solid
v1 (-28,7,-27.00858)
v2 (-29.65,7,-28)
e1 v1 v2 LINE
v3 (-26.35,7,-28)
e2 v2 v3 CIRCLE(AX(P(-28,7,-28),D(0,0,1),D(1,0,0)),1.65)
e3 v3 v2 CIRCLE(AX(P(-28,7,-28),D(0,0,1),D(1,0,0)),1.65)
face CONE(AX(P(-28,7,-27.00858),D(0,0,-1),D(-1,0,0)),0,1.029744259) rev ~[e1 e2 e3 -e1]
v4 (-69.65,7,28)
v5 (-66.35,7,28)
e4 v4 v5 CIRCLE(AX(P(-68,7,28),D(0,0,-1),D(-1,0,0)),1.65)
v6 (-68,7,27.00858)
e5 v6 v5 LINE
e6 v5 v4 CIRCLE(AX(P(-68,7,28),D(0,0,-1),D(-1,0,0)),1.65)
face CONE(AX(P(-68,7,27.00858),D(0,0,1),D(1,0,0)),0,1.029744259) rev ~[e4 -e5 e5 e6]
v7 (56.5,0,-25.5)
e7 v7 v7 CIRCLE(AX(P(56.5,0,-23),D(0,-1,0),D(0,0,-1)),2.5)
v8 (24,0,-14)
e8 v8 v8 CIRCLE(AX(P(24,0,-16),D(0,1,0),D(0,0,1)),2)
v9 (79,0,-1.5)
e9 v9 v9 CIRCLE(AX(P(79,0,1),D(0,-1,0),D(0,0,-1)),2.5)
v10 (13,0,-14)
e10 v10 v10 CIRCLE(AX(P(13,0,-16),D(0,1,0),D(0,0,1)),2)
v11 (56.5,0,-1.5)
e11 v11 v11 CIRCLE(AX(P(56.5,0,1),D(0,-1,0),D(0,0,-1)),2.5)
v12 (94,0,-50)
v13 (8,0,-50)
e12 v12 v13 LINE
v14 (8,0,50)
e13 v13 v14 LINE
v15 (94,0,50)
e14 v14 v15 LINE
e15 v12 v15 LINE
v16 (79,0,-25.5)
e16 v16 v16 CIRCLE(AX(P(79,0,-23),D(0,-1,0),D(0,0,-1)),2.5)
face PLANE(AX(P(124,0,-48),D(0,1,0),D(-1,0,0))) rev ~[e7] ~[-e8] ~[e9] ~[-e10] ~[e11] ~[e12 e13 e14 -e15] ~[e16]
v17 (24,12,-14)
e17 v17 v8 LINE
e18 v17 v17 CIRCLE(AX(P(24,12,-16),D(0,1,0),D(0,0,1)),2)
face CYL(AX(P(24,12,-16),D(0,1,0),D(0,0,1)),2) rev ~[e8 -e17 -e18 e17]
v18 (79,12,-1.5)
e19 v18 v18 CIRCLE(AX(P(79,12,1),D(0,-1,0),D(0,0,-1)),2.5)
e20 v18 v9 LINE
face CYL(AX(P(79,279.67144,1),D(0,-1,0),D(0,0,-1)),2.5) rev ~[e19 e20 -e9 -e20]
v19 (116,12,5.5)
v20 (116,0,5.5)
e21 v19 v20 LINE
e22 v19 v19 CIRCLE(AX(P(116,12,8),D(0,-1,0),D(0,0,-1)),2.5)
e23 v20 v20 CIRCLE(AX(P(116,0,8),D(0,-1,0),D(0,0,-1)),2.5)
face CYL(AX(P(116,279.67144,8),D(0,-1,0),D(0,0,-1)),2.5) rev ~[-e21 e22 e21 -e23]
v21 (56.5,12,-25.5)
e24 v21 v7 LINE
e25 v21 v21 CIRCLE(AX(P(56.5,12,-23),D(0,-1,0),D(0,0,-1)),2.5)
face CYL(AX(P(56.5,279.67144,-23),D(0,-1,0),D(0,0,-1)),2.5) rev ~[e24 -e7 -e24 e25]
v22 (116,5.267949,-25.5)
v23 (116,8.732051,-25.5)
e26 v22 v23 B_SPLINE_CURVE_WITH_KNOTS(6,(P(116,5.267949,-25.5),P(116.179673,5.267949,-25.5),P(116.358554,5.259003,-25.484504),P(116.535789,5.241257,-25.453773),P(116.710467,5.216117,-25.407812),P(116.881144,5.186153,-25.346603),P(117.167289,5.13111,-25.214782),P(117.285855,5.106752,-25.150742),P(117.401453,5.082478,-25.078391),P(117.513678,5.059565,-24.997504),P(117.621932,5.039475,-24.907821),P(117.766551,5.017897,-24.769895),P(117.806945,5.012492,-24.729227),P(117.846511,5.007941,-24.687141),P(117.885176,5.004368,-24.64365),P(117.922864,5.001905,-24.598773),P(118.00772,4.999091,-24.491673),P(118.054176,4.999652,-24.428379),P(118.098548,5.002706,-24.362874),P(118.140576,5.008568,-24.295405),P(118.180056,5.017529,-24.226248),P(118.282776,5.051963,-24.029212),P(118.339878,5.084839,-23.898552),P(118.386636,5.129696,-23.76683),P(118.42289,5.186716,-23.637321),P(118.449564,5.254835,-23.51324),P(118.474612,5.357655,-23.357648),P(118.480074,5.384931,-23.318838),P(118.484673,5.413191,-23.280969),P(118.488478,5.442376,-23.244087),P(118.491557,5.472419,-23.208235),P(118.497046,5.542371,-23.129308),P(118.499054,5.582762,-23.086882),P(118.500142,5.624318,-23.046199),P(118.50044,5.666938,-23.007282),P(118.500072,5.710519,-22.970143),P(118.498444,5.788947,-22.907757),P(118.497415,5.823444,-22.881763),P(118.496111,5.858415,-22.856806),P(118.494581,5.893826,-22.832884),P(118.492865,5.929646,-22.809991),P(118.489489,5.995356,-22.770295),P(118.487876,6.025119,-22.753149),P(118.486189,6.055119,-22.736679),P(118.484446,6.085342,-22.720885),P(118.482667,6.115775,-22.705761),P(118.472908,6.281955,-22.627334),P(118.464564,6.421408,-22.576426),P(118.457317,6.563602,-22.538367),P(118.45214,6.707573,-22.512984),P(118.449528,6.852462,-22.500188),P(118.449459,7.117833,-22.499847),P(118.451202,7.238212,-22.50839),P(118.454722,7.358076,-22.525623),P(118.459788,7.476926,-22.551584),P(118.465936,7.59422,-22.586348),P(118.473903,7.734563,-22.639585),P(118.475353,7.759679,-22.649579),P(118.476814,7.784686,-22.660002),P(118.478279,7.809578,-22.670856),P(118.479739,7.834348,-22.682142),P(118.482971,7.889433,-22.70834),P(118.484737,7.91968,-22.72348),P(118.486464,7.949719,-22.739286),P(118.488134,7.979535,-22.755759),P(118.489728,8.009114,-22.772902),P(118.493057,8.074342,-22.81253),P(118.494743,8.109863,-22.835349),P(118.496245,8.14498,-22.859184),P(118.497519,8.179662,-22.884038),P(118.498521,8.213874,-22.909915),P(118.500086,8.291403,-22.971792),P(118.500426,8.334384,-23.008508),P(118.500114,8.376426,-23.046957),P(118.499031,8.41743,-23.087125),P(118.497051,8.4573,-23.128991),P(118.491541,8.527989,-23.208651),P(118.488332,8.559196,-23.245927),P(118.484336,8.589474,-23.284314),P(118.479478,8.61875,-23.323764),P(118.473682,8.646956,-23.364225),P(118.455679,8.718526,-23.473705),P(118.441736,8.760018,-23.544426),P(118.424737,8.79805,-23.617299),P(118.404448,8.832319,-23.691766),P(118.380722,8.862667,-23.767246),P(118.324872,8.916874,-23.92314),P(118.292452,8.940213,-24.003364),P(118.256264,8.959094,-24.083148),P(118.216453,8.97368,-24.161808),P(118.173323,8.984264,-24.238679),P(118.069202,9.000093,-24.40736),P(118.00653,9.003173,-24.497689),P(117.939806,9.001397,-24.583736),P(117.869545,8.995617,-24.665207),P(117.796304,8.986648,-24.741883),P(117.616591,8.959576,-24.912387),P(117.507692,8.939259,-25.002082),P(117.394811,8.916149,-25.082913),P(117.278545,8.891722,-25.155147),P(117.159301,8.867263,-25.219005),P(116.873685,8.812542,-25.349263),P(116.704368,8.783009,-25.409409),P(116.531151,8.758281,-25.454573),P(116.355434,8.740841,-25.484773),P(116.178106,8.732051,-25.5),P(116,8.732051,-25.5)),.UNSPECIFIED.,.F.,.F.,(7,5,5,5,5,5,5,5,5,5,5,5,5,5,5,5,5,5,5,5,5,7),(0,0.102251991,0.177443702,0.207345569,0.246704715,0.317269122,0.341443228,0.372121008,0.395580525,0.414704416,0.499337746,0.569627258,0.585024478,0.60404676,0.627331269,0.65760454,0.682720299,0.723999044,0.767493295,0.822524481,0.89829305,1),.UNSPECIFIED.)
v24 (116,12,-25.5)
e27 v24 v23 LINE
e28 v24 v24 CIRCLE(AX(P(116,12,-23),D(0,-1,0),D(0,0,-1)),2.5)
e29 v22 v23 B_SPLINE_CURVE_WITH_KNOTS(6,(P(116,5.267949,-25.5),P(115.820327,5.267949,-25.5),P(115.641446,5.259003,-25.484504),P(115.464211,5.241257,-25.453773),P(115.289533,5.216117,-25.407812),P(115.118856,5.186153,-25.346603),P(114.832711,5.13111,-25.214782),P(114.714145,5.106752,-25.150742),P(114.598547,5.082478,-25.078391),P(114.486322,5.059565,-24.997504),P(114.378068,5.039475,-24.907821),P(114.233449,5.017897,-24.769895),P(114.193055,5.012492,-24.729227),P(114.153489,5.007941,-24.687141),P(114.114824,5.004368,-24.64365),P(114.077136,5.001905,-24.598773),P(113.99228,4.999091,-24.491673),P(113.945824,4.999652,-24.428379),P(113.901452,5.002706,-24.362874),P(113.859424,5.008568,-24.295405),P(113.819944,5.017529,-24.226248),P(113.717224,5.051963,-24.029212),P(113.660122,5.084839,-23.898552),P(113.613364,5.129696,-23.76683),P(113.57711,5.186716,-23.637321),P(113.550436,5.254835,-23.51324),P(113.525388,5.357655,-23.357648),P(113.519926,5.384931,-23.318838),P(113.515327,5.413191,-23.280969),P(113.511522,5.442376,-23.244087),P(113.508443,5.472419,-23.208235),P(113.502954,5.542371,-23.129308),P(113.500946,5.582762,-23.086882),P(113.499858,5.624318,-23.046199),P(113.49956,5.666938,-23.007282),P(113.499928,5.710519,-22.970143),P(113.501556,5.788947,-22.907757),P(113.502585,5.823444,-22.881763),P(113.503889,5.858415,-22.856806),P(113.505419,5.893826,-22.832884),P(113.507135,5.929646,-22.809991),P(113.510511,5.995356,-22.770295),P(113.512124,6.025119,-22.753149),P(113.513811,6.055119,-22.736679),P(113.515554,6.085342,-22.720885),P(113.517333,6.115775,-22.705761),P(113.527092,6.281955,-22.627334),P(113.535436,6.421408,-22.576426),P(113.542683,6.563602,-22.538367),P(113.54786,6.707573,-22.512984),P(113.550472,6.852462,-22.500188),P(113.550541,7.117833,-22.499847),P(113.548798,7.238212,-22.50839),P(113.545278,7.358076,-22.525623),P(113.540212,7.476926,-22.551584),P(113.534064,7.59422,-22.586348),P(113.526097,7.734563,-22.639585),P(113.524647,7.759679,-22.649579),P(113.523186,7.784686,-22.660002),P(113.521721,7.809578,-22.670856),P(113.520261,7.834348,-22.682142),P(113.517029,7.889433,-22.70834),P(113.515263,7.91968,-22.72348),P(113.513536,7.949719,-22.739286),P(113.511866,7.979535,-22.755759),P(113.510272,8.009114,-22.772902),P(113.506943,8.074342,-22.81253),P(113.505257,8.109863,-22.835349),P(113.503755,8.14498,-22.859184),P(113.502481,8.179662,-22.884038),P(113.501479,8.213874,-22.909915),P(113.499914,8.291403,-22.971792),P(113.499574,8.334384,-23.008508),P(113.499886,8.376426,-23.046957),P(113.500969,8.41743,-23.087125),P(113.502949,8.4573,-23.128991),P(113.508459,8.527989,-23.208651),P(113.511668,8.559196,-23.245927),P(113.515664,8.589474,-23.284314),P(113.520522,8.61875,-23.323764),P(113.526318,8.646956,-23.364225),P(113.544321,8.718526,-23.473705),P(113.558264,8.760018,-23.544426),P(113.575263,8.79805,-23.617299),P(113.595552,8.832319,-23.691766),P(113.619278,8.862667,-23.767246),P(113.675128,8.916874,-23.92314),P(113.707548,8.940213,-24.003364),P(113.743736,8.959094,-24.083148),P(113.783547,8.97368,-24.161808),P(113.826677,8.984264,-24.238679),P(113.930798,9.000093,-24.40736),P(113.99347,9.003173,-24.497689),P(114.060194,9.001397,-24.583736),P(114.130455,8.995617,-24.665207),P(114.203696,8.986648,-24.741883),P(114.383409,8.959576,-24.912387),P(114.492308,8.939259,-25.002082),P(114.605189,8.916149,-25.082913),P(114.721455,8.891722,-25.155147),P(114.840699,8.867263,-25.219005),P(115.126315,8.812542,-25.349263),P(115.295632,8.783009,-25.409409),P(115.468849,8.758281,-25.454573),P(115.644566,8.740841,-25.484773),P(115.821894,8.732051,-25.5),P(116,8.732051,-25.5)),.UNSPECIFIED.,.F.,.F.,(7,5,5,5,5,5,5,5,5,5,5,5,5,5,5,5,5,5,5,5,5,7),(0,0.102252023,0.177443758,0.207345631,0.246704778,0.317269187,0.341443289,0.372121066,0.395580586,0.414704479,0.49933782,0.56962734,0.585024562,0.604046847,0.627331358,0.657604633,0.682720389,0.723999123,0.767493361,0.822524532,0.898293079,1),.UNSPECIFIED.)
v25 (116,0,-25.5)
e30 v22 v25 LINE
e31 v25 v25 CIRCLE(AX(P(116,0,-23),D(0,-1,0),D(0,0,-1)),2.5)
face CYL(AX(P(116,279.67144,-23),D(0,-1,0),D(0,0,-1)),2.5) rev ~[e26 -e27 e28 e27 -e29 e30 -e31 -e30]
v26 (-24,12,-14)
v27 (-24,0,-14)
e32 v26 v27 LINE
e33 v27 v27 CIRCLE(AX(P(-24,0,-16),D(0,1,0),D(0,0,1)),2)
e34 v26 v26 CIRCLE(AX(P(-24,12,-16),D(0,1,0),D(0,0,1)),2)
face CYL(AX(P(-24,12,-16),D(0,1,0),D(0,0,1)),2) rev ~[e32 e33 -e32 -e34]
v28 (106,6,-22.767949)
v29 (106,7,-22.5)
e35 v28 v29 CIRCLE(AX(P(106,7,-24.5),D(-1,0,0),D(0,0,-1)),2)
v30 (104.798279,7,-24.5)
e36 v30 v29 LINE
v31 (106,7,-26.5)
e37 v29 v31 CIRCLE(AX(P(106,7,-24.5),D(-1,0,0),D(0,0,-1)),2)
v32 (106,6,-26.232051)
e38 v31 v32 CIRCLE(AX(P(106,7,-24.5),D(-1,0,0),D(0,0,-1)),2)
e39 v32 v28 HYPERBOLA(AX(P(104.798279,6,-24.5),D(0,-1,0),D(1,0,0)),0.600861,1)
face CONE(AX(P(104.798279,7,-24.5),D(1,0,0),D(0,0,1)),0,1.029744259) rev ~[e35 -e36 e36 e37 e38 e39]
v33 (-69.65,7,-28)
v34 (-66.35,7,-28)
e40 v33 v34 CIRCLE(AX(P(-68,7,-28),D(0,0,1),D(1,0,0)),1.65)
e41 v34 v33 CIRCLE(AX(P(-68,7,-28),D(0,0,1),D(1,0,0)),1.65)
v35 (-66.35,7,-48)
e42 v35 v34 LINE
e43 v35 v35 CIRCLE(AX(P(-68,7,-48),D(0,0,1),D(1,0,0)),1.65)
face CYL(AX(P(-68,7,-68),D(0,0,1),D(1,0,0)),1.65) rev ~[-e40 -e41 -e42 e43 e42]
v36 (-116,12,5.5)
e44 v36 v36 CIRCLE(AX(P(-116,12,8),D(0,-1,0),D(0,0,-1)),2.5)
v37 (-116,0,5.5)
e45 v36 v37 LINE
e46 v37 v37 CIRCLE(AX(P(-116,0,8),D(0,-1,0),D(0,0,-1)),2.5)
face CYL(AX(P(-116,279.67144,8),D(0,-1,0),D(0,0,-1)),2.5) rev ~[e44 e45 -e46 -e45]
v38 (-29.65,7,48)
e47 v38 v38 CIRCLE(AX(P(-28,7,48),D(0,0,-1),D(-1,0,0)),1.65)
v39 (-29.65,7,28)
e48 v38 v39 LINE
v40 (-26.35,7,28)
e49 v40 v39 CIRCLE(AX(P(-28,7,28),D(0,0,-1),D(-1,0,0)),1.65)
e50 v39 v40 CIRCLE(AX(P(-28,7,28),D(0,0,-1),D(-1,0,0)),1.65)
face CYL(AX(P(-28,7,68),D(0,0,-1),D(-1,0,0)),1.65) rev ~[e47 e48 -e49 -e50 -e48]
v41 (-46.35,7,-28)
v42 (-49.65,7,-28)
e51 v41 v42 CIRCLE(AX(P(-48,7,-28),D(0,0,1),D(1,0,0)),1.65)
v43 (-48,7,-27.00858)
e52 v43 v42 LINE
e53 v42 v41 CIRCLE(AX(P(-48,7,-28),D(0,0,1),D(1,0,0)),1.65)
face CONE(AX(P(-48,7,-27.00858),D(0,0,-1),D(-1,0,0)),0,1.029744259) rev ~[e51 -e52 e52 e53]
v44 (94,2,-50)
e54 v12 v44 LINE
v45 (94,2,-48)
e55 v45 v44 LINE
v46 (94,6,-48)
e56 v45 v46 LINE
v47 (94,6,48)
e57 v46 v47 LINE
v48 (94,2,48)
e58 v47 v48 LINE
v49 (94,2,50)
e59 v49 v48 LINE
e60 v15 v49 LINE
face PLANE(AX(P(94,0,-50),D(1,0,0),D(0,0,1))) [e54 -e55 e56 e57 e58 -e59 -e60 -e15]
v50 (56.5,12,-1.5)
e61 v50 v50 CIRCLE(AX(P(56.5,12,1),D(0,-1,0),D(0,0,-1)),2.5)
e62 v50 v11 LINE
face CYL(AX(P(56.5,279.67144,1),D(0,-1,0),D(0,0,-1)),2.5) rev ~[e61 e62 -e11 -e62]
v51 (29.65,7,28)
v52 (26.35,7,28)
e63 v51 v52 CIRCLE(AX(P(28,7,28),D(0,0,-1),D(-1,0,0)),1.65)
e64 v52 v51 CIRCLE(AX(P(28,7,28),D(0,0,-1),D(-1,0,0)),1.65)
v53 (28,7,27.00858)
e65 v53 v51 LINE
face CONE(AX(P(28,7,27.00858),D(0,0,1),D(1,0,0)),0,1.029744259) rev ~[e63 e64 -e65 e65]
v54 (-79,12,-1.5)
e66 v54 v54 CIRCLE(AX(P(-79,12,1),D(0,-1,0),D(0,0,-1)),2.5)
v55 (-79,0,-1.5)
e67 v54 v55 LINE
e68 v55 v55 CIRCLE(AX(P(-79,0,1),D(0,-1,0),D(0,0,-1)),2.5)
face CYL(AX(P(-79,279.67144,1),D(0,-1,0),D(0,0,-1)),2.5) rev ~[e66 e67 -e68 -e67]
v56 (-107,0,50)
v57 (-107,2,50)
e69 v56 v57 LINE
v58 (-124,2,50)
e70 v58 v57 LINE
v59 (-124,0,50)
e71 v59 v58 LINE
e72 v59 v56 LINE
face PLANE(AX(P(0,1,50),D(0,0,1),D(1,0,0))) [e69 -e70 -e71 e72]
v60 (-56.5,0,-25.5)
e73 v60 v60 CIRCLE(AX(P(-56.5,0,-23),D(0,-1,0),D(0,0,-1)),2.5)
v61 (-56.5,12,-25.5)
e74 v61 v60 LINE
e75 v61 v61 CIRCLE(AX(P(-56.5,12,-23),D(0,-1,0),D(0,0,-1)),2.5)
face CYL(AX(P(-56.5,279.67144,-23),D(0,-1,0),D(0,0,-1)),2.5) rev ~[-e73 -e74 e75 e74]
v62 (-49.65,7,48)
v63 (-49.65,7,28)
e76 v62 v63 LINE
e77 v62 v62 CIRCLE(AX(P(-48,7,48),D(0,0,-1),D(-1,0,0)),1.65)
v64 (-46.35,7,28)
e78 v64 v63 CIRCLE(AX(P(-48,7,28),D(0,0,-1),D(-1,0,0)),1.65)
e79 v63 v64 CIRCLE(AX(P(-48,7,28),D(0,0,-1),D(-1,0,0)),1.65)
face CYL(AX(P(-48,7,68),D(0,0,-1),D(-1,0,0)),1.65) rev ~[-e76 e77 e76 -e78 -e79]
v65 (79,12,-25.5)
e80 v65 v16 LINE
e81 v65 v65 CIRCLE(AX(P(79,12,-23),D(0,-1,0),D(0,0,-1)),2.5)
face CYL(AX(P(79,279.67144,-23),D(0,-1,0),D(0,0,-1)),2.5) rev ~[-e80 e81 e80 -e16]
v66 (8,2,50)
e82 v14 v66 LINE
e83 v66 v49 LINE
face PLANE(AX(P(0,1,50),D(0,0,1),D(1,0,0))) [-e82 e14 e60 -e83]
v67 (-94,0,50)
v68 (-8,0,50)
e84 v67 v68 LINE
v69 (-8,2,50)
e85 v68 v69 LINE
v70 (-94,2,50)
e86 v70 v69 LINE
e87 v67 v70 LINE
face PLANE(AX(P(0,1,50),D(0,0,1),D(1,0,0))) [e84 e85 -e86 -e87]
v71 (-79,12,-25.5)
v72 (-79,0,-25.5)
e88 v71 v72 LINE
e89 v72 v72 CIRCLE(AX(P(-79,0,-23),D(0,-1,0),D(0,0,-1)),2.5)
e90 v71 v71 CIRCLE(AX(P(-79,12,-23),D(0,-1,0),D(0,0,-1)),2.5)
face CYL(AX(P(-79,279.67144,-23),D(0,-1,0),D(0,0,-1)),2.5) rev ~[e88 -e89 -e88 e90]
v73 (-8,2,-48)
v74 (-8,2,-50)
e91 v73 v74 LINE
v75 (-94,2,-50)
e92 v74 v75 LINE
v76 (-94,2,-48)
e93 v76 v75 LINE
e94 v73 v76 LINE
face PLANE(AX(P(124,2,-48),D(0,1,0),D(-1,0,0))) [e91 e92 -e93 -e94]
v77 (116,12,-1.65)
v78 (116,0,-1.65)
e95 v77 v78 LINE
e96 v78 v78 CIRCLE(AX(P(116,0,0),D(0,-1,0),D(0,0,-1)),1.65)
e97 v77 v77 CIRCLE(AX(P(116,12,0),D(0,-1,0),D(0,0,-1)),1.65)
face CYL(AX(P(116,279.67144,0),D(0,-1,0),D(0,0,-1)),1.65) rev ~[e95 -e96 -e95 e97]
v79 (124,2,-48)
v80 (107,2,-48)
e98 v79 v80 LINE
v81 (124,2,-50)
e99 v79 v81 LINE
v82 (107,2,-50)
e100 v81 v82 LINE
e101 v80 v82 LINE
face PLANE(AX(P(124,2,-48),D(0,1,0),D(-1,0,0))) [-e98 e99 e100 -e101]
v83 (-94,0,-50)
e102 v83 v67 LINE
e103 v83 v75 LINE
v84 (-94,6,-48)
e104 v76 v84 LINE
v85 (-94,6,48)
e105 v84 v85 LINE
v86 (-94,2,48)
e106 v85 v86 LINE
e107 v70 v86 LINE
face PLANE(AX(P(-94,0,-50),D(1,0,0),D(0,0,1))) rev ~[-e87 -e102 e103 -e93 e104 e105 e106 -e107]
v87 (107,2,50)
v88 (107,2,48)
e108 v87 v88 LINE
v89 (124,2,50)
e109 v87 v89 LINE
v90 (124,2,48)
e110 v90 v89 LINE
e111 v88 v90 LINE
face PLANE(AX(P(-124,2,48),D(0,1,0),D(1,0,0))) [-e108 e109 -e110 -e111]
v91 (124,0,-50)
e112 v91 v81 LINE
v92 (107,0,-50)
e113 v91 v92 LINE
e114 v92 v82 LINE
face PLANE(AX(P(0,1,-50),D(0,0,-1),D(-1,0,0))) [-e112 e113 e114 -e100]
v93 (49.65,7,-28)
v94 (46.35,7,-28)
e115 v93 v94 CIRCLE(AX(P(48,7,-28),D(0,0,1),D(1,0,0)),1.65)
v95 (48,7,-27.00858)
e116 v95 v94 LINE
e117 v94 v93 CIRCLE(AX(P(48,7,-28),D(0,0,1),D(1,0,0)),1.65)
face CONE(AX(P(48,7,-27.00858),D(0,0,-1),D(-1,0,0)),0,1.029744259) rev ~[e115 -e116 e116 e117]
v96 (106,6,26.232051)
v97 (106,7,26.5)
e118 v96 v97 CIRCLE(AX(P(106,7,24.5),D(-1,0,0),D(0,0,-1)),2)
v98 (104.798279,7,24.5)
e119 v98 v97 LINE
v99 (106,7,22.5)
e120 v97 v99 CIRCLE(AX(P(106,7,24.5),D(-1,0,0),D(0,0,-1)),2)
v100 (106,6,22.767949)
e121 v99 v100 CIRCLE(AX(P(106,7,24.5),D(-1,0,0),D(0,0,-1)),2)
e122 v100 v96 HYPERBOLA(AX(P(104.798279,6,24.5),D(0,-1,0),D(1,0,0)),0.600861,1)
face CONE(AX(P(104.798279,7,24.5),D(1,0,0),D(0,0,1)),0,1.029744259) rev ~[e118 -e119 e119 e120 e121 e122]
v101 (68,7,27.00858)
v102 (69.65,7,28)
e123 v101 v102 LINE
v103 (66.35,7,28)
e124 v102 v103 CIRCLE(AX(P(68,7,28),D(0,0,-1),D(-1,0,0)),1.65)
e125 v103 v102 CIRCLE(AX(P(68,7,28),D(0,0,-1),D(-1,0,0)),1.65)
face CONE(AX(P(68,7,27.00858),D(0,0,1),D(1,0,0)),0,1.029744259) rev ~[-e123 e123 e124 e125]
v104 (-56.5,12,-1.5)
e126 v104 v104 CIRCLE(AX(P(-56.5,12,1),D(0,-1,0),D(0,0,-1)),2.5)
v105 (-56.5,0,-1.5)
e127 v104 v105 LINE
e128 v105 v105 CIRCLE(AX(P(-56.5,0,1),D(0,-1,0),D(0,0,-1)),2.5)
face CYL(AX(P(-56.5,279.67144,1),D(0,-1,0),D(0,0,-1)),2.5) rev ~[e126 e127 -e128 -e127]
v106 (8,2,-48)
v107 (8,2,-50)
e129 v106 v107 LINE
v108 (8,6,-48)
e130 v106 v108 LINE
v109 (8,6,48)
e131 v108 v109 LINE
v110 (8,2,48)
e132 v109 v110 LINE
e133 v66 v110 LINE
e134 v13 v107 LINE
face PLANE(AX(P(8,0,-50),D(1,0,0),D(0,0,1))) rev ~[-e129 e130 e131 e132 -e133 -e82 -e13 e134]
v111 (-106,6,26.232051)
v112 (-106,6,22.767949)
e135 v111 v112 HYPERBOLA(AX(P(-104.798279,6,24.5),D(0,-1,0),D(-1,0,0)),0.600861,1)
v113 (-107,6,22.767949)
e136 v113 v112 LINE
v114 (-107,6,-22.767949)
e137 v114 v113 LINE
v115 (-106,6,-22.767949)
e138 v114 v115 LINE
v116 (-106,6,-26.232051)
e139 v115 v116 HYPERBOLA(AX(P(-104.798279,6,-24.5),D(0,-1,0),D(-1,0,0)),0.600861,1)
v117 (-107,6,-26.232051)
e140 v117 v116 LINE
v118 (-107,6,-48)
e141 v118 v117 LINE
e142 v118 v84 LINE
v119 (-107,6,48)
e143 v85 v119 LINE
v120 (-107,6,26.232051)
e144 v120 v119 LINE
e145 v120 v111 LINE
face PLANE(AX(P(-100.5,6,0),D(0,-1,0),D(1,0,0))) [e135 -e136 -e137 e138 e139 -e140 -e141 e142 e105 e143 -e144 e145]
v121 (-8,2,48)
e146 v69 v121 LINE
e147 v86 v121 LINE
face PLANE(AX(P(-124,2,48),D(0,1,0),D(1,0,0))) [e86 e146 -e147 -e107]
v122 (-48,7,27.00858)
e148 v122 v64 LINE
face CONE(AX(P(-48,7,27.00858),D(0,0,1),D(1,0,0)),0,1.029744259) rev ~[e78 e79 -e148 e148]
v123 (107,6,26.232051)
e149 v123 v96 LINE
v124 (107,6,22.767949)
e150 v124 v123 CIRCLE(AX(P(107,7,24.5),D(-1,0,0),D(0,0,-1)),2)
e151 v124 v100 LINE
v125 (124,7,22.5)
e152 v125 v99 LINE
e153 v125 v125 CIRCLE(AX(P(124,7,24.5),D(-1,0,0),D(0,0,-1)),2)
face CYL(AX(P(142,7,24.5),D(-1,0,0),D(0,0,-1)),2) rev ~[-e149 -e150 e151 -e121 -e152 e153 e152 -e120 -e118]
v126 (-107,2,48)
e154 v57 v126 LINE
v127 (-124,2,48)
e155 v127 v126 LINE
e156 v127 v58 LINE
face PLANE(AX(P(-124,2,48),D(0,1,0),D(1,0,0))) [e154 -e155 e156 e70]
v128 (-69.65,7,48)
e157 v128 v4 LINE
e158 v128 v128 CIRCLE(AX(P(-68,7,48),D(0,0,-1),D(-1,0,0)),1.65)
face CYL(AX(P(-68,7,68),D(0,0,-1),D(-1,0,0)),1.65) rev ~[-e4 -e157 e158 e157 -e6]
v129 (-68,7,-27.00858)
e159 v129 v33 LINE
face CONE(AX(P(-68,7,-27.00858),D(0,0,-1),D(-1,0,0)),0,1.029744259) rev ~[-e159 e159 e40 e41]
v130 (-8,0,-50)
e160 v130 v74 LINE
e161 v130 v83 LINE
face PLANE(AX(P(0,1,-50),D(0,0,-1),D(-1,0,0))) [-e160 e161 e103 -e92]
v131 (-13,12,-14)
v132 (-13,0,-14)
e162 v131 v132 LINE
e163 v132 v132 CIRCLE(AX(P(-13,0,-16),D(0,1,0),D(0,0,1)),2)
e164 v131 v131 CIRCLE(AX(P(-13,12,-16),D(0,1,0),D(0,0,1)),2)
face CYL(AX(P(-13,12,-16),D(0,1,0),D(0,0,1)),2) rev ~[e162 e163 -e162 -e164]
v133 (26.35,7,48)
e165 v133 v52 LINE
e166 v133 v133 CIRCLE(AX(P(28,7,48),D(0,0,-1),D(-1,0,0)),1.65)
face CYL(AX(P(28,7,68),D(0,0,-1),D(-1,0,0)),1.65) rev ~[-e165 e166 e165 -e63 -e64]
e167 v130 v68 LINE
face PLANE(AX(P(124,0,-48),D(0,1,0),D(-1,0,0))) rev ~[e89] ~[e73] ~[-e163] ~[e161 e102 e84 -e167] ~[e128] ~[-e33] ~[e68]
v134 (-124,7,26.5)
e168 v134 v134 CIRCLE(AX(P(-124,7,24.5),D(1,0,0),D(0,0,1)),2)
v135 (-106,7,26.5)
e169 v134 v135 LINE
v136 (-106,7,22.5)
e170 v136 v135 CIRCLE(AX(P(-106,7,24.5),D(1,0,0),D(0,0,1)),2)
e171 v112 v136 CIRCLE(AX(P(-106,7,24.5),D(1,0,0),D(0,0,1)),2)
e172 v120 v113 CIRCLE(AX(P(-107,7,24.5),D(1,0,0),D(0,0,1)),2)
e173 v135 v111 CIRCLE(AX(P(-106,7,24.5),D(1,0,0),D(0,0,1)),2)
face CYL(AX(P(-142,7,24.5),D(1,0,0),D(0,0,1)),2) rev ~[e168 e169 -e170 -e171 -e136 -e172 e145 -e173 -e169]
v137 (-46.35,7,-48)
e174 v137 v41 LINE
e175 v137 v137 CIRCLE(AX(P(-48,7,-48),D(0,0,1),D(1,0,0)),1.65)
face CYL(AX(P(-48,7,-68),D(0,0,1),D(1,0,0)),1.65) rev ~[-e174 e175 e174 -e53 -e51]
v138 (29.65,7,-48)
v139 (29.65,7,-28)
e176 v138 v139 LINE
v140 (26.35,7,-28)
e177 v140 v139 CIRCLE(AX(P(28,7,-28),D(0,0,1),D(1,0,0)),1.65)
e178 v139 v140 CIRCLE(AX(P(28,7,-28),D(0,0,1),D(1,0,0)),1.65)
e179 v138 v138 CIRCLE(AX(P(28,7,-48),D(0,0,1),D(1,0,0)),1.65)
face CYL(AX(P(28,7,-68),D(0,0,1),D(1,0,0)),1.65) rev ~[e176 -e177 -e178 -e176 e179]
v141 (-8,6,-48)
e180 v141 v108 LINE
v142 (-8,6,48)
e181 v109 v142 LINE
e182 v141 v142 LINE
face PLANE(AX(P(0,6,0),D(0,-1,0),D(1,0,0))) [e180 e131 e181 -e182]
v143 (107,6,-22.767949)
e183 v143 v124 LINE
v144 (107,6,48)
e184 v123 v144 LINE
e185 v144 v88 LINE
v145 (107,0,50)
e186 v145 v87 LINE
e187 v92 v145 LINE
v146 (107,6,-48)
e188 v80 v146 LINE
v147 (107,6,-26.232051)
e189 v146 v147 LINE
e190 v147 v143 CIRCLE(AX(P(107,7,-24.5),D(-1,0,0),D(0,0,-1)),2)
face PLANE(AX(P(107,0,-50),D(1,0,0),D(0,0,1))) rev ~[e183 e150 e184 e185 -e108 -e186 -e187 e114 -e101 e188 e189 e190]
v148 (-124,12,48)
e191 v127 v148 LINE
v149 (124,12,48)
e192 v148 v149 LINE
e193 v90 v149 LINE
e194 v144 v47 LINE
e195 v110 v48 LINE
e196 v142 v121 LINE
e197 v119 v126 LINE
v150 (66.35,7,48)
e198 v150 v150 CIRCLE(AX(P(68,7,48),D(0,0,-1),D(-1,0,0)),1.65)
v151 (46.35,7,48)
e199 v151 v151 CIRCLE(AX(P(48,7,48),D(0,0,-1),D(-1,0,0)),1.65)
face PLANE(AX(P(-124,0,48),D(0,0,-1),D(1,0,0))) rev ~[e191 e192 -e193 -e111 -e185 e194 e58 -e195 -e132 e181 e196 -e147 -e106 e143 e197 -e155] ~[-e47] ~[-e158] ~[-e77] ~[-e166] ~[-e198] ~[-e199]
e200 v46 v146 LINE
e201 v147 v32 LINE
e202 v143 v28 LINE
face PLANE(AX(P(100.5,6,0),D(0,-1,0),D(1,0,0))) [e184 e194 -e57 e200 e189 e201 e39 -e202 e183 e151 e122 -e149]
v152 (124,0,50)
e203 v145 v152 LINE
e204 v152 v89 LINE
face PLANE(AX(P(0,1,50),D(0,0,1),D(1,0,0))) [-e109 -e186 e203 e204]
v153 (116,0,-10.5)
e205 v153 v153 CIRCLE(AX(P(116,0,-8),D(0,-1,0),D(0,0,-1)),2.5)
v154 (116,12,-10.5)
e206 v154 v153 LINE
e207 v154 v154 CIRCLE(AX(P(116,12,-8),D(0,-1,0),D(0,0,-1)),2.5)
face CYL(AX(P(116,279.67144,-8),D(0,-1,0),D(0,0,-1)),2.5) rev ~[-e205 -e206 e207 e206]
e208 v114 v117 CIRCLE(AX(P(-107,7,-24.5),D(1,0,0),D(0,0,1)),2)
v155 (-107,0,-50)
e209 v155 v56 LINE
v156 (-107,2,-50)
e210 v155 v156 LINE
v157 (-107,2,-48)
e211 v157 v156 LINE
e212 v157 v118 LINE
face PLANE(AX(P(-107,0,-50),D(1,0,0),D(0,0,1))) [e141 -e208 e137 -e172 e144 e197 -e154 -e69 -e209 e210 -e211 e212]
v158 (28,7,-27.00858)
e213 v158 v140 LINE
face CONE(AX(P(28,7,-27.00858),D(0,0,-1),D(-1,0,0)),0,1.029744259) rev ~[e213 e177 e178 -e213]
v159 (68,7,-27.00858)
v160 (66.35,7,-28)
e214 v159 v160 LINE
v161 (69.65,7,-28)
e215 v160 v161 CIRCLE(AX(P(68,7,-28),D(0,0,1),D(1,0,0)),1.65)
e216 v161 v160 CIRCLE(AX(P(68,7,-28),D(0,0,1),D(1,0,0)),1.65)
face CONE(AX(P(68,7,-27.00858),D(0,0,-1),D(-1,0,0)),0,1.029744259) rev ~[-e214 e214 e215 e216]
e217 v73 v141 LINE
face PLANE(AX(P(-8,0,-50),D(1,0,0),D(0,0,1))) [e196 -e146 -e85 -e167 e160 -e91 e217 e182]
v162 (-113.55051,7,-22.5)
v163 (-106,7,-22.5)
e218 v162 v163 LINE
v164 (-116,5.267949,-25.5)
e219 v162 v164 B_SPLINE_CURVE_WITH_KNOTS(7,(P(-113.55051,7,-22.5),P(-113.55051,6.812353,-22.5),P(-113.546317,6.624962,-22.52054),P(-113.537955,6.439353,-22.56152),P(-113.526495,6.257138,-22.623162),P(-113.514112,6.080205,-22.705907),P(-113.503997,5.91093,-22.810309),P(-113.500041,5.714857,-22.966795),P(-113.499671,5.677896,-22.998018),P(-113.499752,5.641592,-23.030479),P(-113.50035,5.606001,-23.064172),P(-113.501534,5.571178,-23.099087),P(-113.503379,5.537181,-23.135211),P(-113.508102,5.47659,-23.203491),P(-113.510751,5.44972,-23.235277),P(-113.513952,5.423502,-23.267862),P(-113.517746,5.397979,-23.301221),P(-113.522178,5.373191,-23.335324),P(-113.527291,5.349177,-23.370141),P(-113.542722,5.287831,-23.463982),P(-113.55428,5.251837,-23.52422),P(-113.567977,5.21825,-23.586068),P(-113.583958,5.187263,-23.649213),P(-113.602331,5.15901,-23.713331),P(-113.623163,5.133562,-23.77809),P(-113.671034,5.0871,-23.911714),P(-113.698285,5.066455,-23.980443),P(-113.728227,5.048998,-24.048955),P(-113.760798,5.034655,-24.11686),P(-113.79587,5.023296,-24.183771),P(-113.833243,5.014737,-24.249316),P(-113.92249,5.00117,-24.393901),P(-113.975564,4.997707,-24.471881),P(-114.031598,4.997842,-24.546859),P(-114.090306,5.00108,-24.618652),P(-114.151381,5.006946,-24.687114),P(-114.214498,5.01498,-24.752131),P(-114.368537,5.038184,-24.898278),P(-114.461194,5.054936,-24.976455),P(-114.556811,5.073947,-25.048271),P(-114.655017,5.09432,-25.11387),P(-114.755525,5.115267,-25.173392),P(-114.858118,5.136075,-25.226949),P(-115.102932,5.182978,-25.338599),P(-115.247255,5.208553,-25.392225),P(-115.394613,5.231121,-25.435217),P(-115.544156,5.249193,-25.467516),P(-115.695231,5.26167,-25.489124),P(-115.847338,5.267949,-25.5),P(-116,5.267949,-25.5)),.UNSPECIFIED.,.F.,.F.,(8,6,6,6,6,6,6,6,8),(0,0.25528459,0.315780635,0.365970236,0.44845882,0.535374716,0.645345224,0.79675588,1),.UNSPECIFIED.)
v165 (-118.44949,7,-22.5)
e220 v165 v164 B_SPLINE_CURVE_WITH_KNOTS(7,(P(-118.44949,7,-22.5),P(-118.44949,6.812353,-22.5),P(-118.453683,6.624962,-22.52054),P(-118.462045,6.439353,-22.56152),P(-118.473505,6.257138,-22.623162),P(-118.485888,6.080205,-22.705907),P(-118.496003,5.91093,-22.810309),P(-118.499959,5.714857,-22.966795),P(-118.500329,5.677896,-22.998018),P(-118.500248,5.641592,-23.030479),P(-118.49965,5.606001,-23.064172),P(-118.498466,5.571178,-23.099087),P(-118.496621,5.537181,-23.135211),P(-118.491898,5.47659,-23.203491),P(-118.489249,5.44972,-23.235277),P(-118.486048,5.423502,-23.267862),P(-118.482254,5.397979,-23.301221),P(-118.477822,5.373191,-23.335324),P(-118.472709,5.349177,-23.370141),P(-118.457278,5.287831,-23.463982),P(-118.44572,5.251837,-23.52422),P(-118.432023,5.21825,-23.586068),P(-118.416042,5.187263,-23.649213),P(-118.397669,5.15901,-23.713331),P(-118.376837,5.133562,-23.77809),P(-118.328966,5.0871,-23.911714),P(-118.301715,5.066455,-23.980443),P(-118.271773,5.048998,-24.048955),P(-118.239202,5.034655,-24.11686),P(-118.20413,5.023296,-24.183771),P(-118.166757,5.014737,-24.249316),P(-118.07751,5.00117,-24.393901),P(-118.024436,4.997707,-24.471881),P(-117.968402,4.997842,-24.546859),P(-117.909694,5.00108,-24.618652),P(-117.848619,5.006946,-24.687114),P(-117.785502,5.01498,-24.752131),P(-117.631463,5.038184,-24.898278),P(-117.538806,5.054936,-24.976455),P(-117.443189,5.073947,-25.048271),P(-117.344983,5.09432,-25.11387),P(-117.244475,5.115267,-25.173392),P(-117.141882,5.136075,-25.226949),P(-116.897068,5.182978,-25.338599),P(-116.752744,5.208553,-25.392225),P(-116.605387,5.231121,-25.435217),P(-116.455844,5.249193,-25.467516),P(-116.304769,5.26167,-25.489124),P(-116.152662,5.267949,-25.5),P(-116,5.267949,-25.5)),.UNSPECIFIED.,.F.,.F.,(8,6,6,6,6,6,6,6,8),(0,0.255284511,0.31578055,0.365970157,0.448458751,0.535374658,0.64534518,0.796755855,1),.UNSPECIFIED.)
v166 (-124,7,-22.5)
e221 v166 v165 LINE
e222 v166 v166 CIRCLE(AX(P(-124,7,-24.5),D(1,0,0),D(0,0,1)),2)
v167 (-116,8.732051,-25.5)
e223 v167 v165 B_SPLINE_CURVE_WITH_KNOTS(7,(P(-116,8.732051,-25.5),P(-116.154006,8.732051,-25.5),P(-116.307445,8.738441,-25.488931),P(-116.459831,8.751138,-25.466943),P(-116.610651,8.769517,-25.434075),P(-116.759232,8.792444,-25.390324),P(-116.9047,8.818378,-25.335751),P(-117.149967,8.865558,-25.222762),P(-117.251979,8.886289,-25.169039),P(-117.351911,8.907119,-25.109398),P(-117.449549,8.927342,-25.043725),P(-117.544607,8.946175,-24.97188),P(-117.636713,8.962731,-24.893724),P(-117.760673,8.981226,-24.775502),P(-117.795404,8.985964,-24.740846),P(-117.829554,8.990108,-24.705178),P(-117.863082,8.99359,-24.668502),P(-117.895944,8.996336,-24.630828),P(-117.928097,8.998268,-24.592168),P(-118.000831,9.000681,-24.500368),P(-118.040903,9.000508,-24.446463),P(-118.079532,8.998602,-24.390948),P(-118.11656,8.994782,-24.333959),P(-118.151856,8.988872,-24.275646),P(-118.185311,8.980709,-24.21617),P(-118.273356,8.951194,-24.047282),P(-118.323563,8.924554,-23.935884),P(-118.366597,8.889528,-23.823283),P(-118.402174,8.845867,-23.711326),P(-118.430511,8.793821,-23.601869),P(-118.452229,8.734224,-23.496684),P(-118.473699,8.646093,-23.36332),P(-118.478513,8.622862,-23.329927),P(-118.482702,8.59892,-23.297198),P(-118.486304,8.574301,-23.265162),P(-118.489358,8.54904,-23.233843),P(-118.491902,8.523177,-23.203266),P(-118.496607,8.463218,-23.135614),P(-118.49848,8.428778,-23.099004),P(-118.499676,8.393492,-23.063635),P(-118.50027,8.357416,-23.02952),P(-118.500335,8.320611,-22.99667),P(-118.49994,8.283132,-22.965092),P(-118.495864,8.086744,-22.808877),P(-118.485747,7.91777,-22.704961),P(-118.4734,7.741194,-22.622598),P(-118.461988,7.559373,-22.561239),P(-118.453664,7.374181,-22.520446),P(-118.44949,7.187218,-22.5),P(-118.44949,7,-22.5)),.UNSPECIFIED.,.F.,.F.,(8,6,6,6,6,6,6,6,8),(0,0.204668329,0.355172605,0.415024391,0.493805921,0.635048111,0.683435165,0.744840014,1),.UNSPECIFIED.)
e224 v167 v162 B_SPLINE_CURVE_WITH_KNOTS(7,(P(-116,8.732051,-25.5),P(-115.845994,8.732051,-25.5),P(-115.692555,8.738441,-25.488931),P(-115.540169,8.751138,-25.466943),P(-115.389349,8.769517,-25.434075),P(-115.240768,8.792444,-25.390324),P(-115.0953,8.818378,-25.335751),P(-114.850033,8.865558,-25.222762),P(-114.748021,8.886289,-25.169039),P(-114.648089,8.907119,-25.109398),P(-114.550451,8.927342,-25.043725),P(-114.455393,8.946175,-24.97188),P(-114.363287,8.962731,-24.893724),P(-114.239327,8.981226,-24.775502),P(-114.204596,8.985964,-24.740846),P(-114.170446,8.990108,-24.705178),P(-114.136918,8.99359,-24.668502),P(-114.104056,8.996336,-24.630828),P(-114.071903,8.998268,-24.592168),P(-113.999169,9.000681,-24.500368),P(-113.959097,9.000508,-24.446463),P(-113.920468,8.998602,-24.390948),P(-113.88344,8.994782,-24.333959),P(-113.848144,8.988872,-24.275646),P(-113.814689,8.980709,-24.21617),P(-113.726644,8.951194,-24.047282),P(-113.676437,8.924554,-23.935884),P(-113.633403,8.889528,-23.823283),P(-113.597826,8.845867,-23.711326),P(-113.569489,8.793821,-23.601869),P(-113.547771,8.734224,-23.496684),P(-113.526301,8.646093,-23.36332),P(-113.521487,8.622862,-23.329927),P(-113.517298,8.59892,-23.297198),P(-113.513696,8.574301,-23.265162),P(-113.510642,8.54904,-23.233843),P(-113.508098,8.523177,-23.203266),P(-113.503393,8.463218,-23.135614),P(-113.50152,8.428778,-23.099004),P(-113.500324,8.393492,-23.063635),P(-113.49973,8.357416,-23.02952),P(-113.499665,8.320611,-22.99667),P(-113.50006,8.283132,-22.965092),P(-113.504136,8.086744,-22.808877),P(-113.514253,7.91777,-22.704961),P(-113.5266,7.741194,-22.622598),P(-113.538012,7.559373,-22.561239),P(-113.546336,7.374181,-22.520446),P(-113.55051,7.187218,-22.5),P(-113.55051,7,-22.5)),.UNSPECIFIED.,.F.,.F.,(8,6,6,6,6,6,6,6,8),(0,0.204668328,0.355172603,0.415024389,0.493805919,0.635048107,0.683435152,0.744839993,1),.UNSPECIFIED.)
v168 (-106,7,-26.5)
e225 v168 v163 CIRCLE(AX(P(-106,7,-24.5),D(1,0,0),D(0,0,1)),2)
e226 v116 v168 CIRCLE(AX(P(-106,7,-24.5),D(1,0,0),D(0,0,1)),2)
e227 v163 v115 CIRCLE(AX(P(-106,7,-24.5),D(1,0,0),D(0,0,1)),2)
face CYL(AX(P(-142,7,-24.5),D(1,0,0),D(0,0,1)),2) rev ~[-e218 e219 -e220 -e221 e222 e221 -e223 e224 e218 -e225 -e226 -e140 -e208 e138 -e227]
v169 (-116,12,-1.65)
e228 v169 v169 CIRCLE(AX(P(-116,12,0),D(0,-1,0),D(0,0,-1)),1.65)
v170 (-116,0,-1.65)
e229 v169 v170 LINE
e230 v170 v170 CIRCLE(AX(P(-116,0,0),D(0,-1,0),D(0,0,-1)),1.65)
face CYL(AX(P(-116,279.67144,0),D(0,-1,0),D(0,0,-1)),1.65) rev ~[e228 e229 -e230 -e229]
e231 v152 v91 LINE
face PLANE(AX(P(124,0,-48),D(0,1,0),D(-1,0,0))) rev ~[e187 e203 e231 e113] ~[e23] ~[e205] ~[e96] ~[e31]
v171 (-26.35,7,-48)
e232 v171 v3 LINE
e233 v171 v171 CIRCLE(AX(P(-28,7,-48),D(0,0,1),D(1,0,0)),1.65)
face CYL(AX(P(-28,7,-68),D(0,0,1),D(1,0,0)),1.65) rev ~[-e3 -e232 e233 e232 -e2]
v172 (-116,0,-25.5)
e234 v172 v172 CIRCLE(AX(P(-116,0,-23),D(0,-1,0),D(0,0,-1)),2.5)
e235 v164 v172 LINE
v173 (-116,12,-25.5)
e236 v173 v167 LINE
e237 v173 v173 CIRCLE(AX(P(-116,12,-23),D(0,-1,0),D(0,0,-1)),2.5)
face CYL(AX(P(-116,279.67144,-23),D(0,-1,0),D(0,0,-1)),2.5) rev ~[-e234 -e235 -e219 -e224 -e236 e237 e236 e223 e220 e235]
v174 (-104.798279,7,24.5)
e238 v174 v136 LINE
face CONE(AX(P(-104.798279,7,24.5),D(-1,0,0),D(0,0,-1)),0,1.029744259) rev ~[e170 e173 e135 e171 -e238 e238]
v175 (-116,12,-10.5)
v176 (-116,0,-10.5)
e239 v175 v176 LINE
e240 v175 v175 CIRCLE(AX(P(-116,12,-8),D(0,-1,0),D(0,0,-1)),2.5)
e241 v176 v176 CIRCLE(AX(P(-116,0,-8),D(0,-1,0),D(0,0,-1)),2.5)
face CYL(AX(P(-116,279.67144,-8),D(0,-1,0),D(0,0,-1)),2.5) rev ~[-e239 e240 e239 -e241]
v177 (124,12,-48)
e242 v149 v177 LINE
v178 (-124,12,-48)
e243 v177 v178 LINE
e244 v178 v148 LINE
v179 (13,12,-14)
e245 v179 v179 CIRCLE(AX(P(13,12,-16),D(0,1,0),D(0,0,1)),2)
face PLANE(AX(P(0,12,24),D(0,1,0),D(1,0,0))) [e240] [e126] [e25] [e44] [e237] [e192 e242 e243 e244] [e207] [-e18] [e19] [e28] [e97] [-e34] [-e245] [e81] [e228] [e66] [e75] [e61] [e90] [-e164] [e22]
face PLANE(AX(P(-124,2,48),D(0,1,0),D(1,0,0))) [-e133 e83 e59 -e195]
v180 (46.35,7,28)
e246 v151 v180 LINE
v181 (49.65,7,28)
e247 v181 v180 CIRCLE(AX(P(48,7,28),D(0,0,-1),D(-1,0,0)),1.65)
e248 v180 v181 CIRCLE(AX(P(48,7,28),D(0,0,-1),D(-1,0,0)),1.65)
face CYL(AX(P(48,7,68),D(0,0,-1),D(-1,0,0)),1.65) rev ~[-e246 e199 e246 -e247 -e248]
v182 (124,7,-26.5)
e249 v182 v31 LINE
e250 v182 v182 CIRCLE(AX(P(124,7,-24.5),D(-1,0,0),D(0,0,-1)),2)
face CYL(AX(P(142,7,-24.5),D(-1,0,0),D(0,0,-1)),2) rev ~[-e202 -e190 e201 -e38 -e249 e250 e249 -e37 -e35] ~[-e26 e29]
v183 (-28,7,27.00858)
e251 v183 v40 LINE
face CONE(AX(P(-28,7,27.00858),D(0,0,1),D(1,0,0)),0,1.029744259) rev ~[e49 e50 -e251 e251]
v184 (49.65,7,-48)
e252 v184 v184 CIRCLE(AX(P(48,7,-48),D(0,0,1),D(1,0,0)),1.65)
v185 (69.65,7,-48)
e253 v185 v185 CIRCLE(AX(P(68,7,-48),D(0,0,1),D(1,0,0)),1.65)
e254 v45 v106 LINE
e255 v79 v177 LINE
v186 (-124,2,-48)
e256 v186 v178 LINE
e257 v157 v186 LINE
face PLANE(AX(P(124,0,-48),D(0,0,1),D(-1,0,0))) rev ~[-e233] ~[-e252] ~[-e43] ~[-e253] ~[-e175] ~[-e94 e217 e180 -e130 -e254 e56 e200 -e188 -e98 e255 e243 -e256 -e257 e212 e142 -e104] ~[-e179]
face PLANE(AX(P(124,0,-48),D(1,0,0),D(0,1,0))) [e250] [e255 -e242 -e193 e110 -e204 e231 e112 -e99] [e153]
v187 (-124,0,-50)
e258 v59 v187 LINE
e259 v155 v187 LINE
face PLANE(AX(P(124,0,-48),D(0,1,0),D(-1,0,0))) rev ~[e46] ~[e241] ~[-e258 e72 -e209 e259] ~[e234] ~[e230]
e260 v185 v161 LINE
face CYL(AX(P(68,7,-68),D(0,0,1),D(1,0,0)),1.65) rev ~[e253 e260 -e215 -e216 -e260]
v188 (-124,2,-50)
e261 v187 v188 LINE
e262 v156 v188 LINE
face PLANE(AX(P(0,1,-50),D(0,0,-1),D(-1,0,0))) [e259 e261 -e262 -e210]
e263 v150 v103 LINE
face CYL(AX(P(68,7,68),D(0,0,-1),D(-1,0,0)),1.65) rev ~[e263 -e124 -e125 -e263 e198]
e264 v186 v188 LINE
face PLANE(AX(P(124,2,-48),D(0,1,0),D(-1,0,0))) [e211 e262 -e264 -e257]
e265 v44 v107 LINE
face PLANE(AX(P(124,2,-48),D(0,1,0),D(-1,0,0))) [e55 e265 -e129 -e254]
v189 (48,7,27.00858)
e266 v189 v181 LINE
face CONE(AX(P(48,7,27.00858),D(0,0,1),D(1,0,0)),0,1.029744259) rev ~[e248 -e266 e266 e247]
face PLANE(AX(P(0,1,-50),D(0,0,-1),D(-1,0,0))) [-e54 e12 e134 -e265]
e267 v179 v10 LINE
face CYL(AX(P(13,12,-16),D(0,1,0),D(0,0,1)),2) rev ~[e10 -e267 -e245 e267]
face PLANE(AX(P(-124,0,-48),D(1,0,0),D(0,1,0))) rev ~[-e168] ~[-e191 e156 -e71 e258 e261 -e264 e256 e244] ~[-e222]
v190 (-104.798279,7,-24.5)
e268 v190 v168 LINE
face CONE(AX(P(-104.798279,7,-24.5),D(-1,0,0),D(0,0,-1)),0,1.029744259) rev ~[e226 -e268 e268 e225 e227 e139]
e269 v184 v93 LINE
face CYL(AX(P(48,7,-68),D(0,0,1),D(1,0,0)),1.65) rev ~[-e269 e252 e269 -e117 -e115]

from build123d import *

# Parameters (mm, degrees)
AUFSATZ_LINEAR_AUSTRAGEN1_DEPTH    = 12
SKIZZE3_W                          = 248
SKIZZE3_H                          = 2
AUFSATZ_LINEAR_AUSTRAGEN2_DEPTH    = 2
SKIZZE4_W                          = 248
SKIZZE4_H                          = 2
AUFSATZ_LINEAR_AUSTRAGEN3_DEPTH    = 2
SKIZZE5_W                          = 13
SKIZZE5_H                          = 100
SKIZZE5_W_2                        = 16
SCHNITT_LINEAR_AUSTRAGEN1_DEPTH    = 6
M4_GEWINDEBOHRUNG1_D               = 3.3
M4_GEWINDEBOHRUNG1_DEPTH           = 20
M4_GEWINDEBOHRUNG1_TIP             = 0.991420021
M4_GEWINDEBOHRUNG1_ON_FACE_2_D     = 3.3
M4_GEWINDEBOHRUNG1_ON_FACE_2_DEPTH = 20
M4_GEWINDEBOHRUNG1_ON_FACE_2_TIP   = 0.991420021
F_4_0_4_DURCHMESSER_BOHRUNG1_D     = 4
F_4_0_4_DURCHMESSER_BOHRUNG1_DEPTH = 18
F_4_0_4_DURCHMESSER_BOHRUNG1_TIP   = 1.201721238
F_4_0_4_DURCHMESSER_BOHRUNG2_D     = 4
F_4_0_4_DURCHMESSER_BOHRUNG2_DEPTH = 18
F_4_0_4_DURCHMESSER_BOHRUNG2_TIP   = 1.201721238
M4_GEWINDEBOHRUNG2_D               = 3.3
SKIZZE15_R                         = 2
SCHNITT_LINEAR_AUSTRAGEN2_DEPTH    = 135.238593556
F_5_0_5_DURCHMESSER_BOHRUNG1_D     = 5


with BuildPart() as part:
    # Skizze2 → Aufsatz-Linear austragen1 (new body)
    with BuildSketch(Plane(origin=(0, 0, 0), x_dir=(1, 0, 0), z_dir=(0, 1, 0))):
        Polygon((124, 0), (0, 0), (-124, 0), (-124, -48), (124, -48), align=None)
        Polygon((-124, 0), (0, 0), (124, 0), (124, 48), (-124, 48), align=None)
    extrude(amount=AUFSATZ_LINEAR_AUSTRAGEN1_DEPTH)

    # Skizze3 → Aufsatz-Linear austragen2 (add)
    with BuildSketch(Plane.XY.offset(48)):
        with Locations((0, 1)):
            Rectangle(SKIZZE3_W, SKIZZE3_H)
    extrude(amount=AUFSATZ_LINEAR_AUSTRAGEN2_DEPTH)

    # Skizze4 → Aufsatz-Linear austragen3 (add)
    with BuildSketch(Plane(origin=(0, 0, -48), x_dir=(-1, 0, 0), z_dir=(0, 0, -1))):
        with Locations((0, 1)):
            Rectangle(SKIZZE4_W, SKIZZE4_H)
    extrude(amount=AUFSATZ_LINEAR_AUSTRAGEN3_DEPTH)

    # Skizze5 → Schnitt-Linear austragen1 (cut)
    with BuildSketch(Plane.XZ):
        with Locations((100.5, 0)):
            Rectangle(SKIZZE5_W, SKIZZE5_H)
        Rectangle(SKIZZE5_W_2, SKIZZE5_H)
        with Locations((-100.5, 0)):
            Rectangle(SKIZZE5_W, SKIZZE5_H)
    extrude(amount=-SCHNITT_LINEAR_AUSTRAGEN1_DEPTH, mode=Mode.SUBTRACT)

    # M4 Gewindebohrung1
    with Locations(Plane(origin=(68, 7, -48), x_dir=(-1, 0, 0), z_dir=(0, 0, -1))):
        with Locations((0, 0), (20, 0), (40, 0), (136, 0), (116, 0), (96, 0)):
            Hole(M4_GEWINDEBOHRUNG1_D / 2, depth=M4_GEWINDEBOHRUNG1_DEPTH)
            with Locations((0, 0, -(M4_GEWINDEBOHRUNG1_DEPTH + M4_GEWINDEBOHRUNG1_TIP / 2))):  # 118° drill point
                Cone(0, M4_GEWINDEBOHRUNG1_D / 2, M4_GEWINDEBOHRUNG1_TIP, mode=Mode.SUBTRACT)

    # M4 Gewindebohrung1 on face 2
    with Locations(Plane(origin=(-68, 7, 48), x_dir=(1, 0, 0), z_dir=(0, 0, 1))):
        with Locations((0, 0), (20, 0), (40, 0), (136, 0), (116, 0), (96, 0)):
            Hole(M4_GEWINDEBOHRUNG1_ON_FACE_2_D / 2, depth=M4_GEWINDEBOHRUNG1_ON_FACE_2_DEPTH)
            with Locations((0, 0, -(M4_GEWINDEBOHRUNG1_ON_FACE_2_DEPTH + M4_GEWINDEBOHRUNG1_ON_FACE_2_TIP / 2))):  # 118° drill point
                Cone(0, M4_GEWINDEBOHRUNG1_ON_FACE_2_D / 2, M4_GEWINDEBOHRUNG1_ON_FACE_2_TIP, mode=Mode.SUBTRACT)

    # Ø4.0 (4) Durchmesser Bohrung1
    with Locations(Plane(origin=(-124, 7, -24.5), x_dir=(0, 0, -1), z_dir=(-1, 0, 0))):
        with Locations((0, 0), (-49, 0)):
            Hole(F_4_0_4_DURCHMESSER_BOHRUNG1_D / 2, depth=F_4_0_4_DURCHMESSER_BOHRUNG1_DEPTH)
            with Locations((0, 0, -(F_4_0_4_DURCHMESSER_BOHRUNG1_DEPTH + F_4_0_4_DURCHMESSER_BOHRUNG1_TIP / 2))):  # 118° drill point
                Cone(0, F_4_0_4_DURCHMESSER_BOHRUNG1_D / 2, F_4_0_4_DURCHMESSER_BOHRUNG1_TIP, mode=Mode.SUBTRACT)

    # Ø4.0 (4) Durchmesser Bohrung2
    with Locations(Plane(origin=(124, 7, 24.5), x_dir=(0, 0, 1), z_dir=(1, 0, 0))):
        with Locations((0, 0), (-49, 0)):
            Hole(F_4_0_4_DURCHMESSER_BOHRUNG2_D / 2, depth=F_4_0_4_DURCHMESSER_BOHRUNG2_DEPTH)
            with Locations((0, 0, -(F_4_0_4_DURCHMESSER_BOHRUNG2_DEPTH + F_4_0_4_DURCHMESSER_BOHRUNG2_TIP / 2))):  # 118° drill point
                Cone(0, F_4_0_4_DURCHMESSER_BOHRUNG2_D / 2, F_4_0_4_DURCHMESSER_BOHRUNG2_TIP, mode=Mode.SUBTRACT)

    # M4 Gewindebohrung2 (through all)
    with Locations(Plane(origin=(-116, 12, 0), x_dir=(0, 0, 1), z_dir=(0, 1, 0))):
        with Locations((0, 0), (0, 232)):
            Hole(M4_GEWINDEBOHRUNG2_D / 2)

    # Skizze15 → Schnitt-Linear austragen2 (cut, through all)
    with BuildSketch(Plane(origin=(0, 12, 0), x_dir=(1, 0, 0), z_dir=(0, 1, 0))):
        with Locations(Location((24, 16, 0), (0, 0, 270))):
            Circle(SKIZZE15_R)
        with Locations(Location((-13, 16, 0), (0, 0, 270))):
            Circle(SKIZZE15_R)
        with Locations(Location((-24, 16, 0), (0, 0, 270))):
            Circle(SKIZZE15_R)
        with Locations(Location((13, 16, 0), (0, 0, 270))):
            Circle(SKIZZE15_R)
    extrude(amount=-SCHNITT_LINEAR_AUSTRAGEN2_DEPTH, mode=Mode.SUBTRACT)

    # Ø5.0 (5) Durchmesser Bohrung1 (through all)
    with Locations(Plane(origin=(-116, 12, -23), x_dir=(0, 0, 1), z_dir=(0, 1, 0))):
        with Locations((0, 0), (31, 0), (15, 0), (24, 37), (24, 59.5), (0, 59.5), (0, 37), (0, 195), (0, 172.5), (24, 172.5), (24, 195), (31, 232), (15, 232), (0, 232)):
            Hole(F_5_0_5_DURCHMESSER_BOHRUNG1_D / 2)


solid = part.part
